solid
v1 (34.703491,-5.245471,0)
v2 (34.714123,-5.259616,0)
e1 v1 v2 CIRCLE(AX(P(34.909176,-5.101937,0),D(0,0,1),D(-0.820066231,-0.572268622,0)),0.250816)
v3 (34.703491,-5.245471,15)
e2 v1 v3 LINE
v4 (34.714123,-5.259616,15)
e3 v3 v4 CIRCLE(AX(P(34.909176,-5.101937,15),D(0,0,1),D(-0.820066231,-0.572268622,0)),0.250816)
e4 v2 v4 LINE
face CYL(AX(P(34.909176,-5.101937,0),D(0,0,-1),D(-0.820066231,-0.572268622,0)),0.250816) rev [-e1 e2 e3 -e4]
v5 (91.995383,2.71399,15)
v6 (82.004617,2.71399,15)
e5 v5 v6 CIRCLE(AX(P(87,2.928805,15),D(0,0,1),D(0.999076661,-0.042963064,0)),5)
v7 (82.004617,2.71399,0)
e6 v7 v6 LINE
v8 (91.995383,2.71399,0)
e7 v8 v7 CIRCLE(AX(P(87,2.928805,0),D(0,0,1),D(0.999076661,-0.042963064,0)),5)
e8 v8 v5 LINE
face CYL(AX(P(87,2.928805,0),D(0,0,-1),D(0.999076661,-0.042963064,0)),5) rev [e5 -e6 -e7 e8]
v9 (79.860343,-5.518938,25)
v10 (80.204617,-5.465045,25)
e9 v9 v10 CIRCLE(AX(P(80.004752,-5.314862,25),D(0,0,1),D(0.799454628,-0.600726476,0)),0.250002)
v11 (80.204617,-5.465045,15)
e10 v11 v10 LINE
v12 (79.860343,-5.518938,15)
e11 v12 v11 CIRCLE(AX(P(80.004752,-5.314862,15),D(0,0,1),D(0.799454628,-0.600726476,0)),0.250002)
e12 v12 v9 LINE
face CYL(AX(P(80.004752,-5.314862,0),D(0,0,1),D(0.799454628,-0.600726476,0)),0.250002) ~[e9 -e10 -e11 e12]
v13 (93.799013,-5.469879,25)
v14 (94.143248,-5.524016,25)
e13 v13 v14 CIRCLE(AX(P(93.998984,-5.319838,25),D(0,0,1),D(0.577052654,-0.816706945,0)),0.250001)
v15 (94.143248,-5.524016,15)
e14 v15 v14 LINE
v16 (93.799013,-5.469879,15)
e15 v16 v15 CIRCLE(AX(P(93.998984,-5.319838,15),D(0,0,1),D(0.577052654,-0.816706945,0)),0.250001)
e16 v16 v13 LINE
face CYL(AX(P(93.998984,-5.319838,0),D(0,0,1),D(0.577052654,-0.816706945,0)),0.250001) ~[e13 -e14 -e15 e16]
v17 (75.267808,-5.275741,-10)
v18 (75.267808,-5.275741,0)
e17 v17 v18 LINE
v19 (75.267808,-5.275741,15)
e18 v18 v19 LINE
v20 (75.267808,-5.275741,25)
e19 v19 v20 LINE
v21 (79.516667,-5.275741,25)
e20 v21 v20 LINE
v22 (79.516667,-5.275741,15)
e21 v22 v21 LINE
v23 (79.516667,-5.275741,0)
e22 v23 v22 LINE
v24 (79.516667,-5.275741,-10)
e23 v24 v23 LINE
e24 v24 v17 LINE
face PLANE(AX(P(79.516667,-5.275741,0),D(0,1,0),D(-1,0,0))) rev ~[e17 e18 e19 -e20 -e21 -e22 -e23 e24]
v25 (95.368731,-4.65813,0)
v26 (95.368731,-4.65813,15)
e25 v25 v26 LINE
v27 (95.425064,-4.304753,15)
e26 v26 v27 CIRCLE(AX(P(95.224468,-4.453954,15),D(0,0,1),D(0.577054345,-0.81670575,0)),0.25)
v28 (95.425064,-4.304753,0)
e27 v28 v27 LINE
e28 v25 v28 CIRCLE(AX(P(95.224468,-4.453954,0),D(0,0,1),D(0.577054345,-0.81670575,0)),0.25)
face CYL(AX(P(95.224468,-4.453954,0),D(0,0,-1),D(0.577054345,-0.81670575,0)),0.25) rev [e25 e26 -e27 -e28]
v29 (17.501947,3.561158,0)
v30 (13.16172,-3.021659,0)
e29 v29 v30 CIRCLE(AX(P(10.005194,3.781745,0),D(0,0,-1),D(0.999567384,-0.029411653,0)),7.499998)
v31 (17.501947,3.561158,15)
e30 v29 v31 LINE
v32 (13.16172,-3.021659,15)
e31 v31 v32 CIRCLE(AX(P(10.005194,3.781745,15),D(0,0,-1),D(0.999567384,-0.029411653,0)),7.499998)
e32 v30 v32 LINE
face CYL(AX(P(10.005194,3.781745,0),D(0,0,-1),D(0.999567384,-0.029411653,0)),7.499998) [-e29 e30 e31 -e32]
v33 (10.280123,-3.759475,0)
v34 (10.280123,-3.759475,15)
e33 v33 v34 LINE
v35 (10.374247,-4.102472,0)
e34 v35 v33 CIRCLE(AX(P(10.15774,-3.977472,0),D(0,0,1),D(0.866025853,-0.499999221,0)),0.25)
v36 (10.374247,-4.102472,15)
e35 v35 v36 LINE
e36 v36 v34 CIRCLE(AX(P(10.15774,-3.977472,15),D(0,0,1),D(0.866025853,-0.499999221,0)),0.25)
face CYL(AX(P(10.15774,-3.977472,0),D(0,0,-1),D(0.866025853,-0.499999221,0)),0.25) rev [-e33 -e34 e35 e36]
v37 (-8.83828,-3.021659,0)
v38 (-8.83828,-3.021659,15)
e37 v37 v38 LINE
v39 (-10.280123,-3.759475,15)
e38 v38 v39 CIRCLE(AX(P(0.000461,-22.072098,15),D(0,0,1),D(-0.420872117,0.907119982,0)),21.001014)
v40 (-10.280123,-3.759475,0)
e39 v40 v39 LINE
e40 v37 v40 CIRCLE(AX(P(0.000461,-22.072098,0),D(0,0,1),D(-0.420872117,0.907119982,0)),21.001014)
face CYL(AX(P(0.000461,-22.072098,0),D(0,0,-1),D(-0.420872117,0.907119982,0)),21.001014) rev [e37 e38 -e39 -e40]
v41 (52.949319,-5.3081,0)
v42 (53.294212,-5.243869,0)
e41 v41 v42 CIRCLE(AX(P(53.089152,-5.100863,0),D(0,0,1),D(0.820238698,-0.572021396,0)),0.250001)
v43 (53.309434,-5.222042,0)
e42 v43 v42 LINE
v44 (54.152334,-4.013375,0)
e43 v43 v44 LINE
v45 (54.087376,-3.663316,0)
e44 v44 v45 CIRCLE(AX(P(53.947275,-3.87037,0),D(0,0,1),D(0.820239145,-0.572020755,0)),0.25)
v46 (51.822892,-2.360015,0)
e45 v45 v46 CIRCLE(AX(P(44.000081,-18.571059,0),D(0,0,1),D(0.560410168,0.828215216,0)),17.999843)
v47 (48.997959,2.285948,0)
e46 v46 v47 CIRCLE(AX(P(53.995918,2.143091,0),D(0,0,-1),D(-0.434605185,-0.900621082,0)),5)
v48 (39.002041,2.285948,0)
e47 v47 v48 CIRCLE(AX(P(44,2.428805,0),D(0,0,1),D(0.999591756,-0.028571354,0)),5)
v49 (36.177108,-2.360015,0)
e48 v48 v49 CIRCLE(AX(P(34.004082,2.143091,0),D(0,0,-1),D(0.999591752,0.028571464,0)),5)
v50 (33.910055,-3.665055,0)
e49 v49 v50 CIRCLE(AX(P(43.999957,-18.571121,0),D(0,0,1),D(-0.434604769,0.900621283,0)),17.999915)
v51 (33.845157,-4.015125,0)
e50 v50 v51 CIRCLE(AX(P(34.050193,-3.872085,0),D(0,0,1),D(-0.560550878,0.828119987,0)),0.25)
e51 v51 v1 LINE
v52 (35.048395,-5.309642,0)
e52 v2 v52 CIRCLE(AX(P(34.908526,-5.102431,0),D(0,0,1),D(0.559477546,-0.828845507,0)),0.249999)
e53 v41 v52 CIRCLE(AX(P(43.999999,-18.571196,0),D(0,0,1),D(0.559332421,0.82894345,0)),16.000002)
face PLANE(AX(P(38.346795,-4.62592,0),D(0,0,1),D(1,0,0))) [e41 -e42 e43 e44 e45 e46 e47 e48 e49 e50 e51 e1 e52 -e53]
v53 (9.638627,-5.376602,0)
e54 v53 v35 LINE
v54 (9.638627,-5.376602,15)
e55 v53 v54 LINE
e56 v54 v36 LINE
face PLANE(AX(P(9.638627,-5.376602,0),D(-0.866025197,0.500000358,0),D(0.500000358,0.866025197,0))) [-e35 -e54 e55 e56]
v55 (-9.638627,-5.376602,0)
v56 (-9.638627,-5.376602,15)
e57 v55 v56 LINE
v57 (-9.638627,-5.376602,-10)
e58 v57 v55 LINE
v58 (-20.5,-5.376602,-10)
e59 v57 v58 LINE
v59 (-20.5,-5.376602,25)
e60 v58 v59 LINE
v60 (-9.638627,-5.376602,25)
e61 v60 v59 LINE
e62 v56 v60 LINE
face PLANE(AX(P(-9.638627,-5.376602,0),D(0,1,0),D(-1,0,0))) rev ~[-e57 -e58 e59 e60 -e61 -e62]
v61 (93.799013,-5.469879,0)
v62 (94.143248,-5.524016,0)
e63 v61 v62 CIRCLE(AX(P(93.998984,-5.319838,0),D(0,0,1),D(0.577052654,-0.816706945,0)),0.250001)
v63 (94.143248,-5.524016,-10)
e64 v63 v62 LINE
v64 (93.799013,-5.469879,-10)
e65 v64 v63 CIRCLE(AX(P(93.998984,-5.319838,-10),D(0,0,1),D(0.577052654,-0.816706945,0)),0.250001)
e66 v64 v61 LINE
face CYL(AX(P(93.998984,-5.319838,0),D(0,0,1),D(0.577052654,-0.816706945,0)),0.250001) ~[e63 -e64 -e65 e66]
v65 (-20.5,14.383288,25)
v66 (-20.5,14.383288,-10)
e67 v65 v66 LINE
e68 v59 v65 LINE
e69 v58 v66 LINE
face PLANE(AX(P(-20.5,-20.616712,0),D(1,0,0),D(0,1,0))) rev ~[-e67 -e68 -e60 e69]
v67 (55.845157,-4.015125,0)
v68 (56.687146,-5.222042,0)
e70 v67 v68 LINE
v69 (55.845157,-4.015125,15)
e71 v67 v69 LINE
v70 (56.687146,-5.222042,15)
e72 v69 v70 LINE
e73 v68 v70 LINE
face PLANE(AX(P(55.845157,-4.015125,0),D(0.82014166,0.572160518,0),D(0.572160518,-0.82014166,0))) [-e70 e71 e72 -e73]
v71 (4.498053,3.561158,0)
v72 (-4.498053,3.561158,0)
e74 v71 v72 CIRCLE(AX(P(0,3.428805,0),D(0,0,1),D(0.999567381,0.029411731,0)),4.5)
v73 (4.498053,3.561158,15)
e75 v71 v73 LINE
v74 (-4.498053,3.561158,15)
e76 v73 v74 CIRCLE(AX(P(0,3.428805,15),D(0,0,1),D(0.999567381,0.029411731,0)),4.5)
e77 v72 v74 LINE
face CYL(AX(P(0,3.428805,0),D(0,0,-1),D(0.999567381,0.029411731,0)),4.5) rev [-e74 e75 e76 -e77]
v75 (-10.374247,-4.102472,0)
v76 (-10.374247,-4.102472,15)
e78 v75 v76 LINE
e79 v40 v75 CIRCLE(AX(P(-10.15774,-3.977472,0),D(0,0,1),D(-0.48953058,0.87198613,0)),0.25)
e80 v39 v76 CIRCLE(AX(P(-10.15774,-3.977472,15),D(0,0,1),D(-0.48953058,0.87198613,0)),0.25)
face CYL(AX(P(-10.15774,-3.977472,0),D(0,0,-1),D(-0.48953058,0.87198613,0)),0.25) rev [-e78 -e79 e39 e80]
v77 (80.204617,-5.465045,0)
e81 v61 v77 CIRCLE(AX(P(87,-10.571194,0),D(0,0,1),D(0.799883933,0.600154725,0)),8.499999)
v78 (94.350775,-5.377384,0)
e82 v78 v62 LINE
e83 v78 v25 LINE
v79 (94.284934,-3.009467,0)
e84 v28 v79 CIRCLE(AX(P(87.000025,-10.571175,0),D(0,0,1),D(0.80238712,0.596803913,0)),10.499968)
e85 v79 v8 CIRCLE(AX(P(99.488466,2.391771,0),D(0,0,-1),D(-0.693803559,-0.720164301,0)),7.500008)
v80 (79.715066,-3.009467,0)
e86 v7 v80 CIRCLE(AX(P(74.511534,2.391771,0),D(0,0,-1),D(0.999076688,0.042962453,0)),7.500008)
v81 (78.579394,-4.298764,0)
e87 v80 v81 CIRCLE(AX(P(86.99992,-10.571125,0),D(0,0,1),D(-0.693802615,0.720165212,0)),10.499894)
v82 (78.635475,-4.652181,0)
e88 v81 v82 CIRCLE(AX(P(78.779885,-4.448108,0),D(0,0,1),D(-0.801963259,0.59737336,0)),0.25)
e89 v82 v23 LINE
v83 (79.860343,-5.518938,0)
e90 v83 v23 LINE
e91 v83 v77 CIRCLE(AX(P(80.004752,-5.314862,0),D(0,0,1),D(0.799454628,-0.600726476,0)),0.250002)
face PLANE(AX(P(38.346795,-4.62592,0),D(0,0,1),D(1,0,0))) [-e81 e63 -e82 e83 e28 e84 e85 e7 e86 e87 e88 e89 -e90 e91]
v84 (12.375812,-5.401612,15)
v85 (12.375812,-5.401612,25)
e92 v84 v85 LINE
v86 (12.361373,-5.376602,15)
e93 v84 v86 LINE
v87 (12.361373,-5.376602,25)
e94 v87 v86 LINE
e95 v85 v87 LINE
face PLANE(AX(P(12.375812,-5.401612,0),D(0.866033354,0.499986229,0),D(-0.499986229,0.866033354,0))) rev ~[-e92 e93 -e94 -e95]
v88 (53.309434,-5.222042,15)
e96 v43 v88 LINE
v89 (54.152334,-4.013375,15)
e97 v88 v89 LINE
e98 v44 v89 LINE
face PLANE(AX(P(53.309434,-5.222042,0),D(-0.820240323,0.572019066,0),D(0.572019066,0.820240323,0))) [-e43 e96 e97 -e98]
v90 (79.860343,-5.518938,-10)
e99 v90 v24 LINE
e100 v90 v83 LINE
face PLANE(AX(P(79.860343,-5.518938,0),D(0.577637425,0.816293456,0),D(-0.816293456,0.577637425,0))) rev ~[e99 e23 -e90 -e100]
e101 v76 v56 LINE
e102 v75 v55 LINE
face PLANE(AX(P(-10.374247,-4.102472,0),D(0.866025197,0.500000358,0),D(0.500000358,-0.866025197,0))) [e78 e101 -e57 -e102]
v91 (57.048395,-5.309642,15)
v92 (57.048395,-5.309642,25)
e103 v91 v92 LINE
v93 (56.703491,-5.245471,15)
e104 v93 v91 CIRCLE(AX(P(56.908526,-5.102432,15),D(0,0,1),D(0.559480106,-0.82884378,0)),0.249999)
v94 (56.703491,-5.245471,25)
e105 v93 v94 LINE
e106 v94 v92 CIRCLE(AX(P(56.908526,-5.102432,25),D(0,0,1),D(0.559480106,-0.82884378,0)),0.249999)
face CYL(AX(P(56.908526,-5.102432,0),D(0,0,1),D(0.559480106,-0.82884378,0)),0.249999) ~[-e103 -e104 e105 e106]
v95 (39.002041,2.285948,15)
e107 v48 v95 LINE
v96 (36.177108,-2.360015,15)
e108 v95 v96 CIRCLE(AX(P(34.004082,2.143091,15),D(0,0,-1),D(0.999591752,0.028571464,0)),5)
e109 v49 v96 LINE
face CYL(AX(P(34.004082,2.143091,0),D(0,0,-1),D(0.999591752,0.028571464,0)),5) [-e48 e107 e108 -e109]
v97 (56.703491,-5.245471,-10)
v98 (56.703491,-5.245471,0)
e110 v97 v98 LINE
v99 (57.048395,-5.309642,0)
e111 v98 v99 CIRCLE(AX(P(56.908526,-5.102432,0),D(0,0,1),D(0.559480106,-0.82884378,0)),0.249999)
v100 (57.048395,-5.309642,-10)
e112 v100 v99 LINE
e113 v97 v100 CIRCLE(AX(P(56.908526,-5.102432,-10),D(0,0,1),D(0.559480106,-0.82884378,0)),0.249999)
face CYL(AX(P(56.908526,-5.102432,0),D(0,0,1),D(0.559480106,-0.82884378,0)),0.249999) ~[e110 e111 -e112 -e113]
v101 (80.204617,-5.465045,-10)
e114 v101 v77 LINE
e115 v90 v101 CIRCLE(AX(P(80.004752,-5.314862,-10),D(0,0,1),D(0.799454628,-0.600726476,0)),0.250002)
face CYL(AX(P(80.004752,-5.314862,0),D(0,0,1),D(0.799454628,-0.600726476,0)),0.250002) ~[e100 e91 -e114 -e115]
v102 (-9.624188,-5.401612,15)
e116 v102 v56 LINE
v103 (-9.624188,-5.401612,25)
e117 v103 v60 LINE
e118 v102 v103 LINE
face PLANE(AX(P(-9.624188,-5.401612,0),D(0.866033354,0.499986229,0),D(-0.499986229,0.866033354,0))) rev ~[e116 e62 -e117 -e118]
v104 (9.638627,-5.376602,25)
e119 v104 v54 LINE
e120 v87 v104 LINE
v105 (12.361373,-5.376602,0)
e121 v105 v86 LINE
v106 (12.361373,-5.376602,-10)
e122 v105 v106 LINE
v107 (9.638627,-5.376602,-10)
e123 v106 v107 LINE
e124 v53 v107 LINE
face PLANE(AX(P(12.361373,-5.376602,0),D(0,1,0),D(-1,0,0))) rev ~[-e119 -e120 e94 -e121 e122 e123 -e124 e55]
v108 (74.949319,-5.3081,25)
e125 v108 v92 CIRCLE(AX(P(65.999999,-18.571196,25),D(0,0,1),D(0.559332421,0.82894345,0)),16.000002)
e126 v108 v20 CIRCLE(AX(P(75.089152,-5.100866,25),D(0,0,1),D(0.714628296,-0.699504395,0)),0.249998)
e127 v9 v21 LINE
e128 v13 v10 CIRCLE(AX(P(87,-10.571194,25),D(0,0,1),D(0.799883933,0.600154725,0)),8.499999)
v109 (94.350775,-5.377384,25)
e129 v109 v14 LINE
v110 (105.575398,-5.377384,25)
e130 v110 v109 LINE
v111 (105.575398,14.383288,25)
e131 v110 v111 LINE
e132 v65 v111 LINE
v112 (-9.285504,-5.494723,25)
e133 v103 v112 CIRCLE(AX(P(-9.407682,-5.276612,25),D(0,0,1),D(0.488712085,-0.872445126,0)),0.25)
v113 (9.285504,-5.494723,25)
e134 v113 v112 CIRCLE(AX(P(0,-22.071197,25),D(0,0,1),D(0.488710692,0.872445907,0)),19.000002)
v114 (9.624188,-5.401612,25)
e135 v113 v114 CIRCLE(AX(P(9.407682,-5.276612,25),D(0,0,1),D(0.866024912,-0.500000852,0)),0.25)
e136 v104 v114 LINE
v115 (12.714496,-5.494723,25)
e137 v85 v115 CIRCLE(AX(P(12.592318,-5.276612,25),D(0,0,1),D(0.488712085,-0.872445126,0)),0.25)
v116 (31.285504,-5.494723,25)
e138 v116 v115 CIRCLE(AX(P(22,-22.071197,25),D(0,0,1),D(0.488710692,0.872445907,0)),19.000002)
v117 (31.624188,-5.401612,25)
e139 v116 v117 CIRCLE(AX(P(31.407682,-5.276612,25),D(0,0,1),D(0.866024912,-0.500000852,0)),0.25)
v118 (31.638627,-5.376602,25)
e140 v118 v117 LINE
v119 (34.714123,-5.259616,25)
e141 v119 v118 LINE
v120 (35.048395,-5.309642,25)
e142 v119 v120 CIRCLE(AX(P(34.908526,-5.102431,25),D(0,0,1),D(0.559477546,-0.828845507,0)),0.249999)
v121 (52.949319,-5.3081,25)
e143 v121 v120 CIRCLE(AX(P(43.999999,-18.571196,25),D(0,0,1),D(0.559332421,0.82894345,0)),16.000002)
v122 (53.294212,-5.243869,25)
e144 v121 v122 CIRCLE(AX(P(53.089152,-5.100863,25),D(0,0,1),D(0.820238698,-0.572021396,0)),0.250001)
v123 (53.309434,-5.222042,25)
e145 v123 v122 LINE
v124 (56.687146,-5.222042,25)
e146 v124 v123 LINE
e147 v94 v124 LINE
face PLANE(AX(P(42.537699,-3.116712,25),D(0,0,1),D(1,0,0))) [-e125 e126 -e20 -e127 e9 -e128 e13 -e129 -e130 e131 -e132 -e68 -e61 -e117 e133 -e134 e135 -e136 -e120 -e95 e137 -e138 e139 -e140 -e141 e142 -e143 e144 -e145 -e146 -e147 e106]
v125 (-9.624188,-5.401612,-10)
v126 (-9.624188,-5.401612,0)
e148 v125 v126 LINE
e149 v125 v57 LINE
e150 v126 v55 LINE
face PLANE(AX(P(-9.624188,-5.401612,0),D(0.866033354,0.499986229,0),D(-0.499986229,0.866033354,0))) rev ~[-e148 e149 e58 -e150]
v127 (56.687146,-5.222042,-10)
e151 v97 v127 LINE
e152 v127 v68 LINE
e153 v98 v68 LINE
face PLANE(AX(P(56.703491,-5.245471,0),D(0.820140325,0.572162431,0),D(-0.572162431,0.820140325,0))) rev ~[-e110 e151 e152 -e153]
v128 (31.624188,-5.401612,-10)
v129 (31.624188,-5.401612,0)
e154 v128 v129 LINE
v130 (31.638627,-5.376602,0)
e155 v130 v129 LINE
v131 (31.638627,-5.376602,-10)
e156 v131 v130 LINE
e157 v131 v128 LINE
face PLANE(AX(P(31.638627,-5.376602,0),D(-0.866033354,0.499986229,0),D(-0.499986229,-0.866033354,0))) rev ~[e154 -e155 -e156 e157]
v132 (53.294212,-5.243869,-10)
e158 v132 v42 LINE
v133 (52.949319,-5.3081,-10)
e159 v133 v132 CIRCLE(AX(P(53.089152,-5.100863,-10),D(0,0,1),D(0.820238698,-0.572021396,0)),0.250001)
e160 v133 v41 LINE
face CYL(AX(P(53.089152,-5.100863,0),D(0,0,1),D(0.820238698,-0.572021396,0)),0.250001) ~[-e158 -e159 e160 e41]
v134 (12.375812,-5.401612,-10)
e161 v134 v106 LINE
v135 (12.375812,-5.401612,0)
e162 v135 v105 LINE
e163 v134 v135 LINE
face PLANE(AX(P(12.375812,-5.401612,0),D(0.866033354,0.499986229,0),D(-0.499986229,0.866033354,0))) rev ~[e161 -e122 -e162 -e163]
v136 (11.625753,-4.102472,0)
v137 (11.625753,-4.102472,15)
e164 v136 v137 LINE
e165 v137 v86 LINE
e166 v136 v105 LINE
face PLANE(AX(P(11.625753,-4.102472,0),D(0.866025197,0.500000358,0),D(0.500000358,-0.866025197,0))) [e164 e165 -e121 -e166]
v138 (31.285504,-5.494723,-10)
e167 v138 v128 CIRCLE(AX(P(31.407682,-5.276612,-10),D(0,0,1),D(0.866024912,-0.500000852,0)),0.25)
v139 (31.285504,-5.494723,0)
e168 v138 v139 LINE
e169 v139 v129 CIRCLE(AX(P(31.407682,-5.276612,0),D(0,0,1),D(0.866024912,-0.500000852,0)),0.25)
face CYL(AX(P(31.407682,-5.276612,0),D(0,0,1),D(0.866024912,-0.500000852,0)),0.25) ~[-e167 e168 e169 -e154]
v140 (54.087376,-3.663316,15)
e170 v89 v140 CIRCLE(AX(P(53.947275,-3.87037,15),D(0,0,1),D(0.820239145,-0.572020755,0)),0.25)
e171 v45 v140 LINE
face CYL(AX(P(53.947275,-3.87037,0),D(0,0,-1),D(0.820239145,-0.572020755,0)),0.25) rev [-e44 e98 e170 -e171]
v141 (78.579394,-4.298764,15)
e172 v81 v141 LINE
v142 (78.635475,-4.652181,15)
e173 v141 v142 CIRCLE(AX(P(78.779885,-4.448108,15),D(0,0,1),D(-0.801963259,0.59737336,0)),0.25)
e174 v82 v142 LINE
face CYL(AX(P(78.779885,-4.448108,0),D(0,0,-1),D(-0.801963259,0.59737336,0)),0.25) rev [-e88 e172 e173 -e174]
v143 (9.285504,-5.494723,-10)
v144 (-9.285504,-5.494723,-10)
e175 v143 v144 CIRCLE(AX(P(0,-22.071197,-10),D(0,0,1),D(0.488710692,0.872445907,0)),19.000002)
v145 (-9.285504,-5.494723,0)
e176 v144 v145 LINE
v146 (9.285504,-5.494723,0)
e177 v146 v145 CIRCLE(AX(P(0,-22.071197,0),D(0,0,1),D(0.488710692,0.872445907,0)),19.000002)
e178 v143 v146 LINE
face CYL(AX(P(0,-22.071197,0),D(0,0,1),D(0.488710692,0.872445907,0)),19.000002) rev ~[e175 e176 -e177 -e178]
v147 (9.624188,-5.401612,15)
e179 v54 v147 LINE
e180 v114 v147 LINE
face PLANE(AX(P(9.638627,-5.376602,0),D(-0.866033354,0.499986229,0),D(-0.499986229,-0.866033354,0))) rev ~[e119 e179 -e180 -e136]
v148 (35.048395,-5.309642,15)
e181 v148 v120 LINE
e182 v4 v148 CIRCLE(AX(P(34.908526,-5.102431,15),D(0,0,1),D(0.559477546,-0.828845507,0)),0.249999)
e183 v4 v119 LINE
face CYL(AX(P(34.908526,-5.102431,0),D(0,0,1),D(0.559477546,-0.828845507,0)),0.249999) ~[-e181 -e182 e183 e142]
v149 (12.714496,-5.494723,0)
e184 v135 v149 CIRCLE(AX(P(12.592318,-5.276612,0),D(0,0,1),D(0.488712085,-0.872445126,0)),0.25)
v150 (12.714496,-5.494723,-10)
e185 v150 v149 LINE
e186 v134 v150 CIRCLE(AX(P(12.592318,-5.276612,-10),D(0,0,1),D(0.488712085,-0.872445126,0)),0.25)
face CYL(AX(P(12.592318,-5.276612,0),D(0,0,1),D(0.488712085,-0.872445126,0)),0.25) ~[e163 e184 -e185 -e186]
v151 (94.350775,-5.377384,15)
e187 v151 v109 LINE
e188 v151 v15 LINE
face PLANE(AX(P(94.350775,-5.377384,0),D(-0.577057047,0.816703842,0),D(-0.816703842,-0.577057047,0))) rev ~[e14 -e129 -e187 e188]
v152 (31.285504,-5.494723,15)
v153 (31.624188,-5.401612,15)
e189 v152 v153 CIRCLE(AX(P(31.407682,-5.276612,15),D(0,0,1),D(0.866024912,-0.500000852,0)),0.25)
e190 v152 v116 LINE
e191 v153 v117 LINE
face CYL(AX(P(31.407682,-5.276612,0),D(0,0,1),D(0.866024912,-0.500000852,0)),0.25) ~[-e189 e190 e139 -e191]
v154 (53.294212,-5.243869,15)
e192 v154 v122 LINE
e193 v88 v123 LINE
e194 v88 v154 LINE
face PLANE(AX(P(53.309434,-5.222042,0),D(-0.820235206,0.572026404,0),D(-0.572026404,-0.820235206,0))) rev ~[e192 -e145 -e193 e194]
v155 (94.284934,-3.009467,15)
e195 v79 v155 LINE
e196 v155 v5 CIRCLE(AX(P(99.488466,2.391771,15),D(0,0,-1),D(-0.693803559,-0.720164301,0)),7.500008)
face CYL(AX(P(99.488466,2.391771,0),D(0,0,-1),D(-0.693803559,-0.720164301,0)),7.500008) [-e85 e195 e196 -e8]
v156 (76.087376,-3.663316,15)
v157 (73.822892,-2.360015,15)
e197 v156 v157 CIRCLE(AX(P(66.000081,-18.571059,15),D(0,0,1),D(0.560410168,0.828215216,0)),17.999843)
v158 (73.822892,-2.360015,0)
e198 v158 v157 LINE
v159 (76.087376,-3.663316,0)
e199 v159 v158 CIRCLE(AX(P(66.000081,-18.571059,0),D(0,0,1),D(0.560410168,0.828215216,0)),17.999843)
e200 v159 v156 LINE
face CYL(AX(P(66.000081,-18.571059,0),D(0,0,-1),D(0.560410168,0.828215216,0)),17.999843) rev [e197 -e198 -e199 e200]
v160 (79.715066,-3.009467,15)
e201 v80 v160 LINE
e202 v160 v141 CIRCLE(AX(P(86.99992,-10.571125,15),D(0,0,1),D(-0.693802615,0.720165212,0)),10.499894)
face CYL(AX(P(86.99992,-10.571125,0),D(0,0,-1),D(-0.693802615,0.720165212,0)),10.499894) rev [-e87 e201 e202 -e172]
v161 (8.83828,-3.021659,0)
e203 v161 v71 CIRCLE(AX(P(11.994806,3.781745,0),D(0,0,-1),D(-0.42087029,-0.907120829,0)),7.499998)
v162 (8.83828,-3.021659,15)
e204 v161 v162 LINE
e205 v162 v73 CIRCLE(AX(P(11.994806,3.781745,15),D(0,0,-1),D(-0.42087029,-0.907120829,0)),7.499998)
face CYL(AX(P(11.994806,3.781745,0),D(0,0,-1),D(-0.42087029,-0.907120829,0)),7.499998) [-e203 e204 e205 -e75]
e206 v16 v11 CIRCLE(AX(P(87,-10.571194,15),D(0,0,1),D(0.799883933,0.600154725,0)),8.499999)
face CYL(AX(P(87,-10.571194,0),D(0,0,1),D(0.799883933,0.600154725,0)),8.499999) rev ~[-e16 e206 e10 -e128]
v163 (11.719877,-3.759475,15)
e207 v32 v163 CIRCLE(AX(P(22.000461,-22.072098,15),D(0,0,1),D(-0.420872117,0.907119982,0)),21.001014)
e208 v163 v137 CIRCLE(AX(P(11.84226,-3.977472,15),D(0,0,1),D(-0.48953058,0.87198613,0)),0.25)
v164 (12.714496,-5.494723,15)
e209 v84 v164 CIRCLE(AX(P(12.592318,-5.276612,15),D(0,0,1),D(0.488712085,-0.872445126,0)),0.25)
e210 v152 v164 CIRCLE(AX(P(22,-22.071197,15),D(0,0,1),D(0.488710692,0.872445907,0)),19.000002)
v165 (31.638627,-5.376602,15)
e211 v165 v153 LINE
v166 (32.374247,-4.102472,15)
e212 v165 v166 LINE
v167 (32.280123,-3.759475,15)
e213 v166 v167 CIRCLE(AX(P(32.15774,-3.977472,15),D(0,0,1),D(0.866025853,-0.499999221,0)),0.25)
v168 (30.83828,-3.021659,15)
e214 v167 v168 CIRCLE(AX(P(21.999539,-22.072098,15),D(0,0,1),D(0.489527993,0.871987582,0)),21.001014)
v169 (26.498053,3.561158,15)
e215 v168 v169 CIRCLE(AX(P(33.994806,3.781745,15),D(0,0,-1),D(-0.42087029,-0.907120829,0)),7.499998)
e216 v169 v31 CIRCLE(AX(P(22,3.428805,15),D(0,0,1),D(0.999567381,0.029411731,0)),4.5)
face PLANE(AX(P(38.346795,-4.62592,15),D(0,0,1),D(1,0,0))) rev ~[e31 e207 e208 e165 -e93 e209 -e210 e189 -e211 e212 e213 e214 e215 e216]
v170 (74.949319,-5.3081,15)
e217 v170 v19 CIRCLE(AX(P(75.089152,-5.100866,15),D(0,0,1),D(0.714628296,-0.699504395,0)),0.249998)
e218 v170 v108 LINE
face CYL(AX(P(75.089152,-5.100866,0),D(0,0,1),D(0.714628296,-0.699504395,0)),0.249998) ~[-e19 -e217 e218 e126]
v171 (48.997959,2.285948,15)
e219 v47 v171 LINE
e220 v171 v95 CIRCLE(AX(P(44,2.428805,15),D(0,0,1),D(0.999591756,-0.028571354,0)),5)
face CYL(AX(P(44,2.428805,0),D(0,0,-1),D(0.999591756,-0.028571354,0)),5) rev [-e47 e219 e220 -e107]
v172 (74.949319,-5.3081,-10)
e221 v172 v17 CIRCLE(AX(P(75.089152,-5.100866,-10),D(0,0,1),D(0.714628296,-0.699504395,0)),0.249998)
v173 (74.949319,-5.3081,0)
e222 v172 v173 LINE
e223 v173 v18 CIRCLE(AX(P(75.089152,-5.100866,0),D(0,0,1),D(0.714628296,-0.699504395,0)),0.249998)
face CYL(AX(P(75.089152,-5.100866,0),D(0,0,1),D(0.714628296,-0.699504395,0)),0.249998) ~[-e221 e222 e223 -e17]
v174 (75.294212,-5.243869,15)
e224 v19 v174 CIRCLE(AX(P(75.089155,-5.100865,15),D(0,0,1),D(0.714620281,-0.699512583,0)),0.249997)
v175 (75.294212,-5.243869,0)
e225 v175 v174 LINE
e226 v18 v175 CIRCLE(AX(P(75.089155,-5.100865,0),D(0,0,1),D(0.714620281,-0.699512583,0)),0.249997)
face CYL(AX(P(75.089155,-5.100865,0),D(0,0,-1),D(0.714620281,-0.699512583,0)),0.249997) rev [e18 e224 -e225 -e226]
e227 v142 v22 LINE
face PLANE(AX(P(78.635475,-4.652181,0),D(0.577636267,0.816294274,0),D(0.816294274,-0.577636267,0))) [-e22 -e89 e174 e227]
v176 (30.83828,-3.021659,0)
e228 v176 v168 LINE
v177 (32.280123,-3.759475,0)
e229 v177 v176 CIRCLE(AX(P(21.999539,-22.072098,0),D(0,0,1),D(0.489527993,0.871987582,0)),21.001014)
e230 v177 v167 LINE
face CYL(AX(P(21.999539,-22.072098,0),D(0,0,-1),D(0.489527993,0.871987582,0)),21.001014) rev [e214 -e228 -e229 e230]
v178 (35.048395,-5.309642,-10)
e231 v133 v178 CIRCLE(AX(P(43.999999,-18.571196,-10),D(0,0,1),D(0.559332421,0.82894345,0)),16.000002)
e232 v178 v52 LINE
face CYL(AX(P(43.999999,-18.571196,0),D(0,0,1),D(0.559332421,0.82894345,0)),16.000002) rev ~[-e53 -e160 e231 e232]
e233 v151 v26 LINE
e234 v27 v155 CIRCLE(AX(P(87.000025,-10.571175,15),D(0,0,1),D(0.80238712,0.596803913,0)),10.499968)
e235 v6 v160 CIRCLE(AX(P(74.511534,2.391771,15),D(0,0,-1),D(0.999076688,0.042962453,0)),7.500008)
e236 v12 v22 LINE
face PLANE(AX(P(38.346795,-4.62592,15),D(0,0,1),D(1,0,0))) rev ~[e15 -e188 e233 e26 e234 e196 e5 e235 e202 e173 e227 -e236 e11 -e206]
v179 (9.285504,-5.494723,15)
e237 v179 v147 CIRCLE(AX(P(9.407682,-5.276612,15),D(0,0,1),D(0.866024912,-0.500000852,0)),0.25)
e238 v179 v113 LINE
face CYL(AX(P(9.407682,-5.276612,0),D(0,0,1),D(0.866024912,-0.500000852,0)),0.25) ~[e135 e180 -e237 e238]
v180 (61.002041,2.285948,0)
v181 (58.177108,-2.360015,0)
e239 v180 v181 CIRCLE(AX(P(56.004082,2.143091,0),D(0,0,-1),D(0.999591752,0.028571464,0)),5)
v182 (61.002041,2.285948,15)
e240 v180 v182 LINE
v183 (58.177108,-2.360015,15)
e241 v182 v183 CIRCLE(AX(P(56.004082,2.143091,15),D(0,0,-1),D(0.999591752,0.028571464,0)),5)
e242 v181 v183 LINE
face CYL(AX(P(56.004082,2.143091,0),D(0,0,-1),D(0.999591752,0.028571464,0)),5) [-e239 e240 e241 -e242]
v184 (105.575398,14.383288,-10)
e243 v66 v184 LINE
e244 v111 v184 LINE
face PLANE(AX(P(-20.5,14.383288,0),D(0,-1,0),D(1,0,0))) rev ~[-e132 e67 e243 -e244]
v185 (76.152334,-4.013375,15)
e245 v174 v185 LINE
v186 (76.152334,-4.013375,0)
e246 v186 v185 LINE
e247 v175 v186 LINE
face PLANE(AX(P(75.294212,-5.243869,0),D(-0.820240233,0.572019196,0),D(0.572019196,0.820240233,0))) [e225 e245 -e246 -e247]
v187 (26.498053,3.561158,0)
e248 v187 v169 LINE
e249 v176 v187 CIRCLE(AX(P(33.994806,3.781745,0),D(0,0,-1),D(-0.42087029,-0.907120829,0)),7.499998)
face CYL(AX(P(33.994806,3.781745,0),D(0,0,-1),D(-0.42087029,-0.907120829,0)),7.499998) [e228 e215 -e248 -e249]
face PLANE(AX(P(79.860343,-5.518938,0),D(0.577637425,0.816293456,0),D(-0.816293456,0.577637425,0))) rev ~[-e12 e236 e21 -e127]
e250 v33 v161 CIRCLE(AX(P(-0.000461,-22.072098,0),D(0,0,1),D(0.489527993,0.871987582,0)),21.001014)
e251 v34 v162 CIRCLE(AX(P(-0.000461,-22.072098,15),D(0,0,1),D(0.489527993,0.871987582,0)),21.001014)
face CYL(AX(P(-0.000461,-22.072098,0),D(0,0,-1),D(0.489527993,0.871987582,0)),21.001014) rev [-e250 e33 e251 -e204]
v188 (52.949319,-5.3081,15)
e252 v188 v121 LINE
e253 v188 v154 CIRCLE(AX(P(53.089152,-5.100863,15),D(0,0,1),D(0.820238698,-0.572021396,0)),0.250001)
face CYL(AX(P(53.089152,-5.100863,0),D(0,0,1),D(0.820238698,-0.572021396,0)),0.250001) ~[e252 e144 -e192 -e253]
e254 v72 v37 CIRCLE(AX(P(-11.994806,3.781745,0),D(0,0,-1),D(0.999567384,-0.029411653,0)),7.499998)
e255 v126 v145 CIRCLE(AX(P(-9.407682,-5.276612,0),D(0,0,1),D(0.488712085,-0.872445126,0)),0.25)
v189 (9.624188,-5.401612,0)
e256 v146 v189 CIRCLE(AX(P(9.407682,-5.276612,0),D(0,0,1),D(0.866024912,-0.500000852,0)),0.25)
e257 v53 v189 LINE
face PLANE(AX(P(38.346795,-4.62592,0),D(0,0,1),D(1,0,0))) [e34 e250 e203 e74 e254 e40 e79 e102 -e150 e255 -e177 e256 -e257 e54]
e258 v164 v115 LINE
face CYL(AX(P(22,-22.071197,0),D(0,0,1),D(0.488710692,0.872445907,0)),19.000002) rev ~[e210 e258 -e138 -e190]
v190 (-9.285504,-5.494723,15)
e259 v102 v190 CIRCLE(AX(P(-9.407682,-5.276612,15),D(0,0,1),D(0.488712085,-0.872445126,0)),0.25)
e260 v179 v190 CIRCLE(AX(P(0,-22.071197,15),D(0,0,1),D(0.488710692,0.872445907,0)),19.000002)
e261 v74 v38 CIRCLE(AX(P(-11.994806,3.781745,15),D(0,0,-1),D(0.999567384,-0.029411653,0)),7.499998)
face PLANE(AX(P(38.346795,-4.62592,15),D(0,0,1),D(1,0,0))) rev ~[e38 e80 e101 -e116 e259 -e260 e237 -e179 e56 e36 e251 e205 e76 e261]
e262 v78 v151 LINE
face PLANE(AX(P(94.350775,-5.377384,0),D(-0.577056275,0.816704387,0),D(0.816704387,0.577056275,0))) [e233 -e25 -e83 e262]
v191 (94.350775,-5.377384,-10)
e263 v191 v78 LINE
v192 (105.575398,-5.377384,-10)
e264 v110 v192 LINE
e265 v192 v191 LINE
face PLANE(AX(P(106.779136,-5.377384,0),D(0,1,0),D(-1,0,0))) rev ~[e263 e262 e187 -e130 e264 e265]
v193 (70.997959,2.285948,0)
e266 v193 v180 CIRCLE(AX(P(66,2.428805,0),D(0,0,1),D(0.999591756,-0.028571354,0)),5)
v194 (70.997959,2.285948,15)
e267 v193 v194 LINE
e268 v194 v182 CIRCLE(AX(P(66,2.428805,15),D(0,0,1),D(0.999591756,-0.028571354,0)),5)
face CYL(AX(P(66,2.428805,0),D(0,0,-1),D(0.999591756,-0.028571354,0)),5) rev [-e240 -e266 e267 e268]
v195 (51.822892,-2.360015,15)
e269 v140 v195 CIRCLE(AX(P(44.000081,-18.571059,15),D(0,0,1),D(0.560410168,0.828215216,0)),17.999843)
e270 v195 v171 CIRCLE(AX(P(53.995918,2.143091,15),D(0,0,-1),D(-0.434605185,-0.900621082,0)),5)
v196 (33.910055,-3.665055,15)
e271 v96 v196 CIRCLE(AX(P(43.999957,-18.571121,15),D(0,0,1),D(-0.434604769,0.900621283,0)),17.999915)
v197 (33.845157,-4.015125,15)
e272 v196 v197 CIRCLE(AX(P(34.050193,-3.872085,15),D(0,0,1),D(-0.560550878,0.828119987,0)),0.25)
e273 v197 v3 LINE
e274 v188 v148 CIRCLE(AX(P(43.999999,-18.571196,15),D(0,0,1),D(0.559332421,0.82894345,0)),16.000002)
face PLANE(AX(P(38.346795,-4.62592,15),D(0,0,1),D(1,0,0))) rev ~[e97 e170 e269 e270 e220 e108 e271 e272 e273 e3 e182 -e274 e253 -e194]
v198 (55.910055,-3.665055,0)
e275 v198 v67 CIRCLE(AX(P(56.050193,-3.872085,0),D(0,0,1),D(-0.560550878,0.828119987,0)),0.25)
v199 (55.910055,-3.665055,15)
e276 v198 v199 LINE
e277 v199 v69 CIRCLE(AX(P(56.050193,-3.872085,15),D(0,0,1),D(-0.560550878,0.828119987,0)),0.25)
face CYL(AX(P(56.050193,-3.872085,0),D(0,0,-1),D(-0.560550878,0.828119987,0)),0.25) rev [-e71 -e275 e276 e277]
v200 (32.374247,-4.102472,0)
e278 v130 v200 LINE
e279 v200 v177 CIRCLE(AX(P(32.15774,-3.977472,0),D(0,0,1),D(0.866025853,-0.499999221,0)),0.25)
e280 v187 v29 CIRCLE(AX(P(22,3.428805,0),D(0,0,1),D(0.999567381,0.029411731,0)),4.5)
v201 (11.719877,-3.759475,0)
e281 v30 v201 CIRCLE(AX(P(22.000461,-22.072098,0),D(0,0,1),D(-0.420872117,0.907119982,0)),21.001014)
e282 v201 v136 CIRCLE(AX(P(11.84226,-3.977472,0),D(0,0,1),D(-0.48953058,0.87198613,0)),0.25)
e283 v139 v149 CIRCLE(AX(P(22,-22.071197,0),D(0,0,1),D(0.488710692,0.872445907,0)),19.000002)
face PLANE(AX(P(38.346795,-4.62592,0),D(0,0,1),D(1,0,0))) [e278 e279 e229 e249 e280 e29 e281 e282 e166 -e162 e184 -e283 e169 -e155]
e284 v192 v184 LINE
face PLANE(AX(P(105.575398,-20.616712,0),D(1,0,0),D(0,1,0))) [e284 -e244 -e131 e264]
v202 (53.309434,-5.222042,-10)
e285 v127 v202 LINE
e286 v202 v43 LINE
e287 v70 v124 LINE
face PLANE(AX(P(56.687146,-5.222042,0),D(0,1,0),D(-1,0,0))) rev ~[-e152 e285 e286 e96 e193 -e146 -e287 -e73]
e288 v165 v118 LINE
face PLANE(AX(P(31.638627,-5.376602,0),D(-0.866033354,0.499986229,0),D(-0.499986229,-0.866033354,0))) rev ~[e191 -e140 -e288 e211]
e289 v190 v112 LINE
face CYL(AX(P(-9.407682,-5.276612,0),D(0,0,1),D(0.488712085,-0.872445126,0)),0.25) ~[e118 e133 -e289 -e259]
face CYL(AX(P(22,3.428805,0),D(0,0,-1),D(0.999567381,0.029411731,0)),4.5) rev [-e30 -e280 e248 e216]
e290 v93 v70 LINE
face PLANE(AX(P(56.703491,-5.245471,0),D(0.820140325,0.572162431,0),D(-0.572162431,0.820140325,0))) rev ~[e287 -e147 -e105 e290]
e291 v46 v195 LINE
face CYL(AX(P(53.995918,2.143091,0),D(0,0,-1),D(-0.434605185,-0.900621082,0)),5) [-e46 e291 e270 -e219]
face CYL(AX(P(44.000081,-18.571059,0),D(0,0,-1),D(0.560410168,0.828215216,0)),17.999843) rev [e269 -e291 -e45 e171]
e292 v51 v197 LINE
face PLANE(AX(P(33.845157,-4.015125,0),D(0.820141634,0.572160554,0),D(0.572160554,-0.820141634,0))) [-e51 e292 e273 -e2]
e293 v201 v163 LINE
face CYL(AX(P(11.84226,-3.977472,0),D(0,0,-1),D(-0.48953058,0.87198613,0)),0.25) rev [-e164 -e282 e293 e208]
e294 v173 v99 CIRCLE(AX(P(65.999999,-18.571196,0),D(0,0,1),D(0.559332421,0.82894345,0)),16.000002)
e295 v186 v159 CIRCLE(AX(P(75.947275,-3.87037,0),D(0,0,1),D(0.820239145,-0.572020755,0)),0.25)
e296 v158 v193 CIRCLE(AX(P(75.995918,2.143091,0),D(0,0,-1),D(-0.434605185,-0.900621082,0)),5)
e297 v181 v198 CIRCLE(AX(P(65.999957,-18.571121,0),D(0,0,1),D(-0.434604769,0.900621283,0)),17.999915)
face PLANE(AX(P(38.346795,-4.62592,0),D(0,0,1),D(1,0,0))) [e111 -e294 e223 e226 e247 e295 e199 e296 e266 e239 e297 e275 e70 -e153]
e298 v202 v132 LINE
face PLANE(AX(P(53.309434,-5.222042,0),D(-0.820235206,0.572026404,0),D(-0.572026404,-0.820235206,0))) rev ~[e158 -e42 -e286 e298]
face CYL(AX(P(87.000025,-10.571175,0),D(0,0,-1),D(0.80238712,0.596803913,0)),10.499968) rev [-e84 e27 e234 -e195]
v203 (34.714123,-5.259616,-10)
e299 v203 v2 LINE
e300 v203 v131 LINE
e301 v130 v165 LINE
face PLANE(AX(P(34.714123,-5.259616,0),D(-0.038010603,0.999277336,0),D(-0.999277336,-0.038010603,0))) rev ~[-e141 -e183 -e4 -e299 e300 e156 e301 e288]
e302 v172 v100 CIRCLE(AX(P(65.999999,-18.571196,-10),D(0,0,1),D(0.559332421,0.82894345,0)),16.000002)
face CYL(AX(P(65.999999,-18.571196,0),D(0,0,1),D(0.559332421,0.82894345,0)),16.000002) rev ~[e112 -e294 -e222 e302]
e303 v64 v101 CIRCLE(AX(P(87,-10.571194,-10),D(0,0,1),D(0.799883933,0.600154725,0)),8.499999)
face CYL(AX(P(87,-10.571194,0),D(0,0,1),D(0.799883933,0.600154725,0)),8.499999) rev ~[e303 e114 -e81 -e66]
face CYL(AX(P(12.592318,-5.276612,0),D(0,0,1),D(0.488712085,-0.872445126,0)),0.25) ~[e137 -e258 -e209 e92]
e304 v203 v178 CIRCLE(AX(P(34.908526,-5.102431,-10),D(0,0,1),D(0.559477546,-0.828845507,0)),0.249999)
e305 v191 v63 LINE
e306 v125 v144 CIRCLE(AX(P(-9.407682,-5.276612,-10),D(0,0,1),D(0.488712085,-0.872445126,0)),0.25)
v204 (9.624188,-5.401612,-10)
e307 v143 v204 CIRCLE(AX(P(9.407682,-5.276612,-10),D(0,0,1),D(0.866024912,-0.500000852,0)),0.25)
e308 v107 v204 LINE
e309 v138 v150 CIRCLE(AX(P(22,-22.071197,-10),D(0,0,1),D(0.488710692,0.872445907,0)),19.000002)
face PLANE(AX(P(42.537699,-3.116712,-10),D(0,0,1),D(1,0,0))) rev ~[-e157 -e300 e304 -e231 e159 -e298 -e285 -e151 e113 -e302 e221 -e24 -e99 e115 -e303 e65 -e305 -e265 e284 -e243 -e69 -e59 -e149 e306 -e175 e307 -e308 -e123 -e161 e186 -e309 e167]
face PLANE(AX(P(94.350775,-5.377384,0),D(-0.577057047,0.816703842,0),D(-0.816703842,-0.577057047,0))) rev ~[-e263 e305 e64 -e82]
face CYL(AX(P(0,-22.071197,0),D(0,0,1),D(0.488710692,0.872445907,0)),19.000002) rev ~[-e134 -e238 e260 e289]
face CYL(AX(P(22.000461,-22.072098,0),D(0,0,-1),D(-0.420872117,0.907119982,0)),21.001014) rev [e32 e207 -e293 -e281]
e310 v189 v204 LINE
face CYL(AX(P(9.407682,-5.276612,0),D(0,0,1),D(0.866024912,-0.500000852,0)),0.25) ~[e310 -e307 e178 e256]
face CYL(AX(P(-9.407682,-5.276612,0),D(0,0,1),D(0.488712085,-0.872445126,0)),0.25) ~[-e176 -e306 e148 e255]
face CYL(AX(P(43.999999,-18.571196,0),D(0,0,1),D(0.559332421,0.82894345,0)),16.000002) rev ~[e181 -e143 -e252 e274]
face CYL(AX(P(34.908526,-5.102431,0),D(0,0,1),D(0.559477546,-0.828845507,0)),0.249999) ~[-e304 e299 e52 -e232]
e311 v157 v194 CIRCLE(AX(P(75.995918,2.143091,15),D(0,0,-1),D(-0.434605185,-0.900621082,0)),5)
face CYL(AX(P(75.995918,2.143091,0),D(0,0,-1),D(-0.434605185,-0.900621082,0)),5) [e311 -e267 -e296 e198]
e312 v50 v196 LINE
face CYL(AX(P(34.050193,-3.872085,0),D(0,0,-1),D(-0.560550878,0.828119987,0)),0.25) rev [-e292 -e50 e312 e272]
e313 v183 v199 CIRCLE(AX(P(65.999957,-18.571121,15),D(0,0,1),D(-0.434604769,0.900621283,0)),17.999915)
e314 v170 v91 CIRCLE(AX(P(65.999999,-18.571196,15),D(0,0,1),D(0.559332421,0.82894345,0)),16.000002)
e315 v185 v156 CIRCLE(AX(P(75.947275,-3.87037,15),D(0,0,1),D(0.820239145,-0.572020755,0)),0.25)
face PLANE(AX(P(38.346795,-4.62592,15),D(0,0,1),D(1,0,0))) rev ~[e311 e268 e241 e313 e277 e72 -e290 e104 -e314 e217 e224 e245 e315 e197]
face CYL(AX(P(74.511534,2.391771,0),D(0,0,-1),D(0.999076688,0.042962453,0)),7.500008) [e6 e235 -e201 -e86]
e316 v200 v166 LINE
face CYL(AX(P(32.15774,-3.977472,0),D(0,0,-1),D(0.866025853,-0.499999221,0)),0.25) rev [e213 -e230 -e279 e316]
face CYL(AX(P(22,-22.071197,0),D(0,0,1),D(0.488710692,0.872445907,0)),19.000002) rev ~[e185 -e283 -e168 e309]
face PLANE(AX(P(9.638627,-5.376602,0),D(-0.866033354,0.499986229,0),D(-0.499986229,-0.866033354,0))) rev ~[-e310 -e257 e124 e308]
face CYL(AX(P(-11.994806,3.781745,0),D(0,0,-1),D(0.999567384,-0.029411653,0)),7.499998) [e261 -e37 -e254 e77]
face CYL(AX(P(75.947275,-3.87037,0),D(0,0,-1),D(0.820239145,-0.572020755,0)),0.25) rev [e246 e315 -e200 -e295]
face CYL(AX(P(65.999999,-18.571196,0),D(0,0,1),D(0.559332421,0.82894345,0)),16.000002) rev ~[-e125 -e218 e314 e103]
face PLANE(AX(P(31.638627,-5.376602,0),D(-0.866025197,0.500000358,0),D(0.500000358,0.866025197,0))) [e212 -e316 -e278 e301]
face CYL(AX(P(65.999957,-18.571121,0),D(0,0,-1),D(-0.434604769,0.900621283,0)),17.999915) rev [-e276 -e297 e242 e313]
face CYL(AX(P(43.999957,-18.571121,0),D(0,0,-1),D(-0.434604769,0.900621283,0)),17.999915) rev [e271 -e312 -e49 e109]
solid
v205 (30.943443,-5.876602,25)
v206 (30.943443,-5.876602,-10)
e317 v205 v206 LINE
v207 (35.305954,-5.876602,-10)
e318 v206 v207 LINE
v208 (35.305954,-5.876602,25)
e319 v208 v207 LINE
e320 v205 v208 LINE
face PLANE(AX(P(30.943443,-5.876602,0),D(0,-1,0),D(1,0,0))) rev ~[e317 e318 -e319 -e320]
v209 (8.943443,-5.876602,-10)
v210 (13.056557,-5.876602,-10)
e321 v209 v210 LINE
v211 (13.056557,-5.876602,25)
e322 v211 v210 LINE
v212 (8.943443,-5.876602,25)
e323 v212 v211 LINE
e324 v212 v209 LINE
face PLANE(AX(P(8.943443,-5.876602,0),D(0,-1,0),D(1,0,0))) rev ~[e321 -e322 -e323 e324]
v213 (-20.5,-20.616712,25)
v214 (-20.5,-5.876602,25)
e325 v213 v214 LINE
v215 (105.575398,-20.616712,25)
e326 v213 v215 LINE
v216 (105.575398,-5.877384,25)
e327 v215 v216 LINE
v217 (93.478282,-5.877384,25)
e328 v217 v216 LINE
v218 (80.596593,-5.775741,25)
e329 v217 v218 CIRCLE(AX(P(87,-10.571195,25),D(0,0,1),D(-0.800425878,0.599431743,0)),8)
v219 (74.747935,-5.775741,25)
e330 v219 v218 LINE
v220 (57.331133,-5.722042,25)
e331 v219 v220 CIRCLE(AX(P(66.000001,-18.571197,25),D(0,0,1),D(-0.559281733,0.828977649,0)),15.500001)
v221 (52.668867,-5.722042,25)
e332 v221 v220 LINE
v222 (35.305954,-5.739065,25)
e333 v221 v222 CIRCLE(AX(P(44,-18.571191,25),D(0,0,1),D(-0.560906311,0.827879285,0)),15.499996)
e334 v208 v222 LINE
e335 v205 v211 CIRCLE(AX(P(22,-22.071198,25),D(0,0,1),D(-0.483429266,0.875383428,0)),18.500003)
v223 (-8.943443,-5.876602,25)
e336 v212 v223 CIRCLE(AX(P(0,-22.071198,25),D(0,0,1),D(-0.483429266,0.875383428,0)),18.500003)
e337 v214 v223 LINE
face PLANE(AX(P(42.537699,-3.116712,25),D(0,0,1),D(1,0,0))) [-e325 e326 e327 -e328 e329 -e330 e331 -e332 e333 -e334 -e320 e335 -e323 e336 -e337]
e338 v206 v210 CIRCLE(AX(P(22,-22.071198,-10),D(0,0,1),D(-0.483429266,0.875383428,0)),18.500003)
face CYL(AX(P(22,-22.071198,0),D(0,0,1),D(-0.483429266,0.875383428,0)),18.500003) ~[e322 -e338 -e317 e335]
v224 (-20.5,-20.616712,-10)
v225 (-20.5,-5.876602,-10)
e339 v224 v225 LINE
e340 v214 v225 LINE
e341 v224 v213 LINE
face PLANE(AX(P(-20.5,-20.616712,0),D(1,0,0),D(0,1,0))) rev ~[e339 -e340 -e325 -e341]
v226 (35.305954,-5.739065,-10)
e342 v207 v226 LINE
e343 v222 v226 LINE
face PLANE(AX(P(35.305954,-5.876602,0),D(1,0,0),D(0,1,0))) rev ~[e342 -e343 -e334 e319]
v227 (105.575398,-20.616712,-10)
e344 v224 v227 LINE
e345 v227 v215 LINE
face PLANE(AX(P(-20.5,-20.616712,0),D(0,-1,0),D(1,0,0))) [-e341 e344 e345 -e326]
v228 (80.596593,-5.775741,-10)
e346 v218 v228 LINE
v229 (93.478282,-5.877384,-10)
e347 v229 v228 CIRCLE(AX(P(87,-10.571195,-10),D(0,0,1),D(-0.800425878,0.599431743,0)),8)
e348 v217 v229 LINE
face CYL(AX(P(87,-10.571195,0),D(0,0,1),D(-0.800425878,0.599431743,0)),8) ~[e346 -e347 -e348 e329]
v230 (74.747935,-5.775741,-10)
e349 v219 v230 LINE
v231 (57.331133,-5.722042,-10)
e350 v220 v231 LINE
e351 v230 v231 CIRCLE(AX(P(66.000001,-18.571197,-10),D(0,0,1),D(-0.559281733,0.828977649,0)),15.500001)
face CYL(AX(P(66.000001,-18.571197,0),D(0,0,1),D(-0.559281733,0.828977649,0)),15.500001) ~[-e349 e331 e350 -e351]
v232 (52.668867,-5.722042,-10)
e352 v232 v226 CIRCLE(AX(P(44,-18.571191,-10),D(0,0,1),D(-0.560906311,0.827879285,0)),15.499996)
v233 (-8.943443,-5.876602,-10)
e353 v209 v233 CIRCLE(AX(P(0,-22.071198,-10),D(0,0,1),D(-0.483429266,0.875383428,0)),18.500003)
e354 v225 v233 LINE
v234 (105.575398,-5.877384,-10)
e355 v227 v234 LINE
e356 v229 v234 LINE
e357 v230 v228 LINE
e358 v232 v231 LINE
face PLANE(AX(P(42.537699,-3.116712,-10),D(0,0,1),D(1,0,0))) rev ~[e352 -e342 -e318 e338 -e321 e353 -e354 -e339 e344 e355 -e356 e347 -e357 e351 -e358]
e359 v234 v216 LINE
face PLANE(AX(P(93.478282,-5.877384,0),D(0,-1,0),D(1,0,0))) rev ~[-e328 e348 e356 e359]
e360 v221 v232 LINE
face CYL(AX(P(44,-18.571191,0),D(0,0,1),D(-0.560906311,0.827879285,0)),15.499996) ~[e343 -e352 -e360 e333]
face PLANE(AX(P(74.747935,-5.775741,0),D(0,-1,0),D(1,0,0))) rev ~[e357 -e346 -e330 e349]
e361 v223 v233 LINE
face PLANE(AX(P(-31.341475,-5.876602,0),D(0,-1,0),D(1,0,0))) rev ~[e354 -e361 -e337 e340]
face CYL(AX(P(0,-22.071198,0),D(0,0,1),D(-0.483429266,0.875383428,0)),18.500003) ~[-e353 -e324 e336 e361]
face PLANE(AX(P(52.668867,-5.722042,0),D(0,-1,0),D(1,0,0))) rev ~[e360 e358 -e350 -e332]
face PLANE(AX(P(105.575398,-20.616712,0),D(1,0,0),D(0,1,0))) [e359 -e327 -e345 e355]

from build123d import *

# Parameters (mm, degrees)
F1_W     = 126.075398
F1_H     = 35
F2_DEPTH = 25
F3_DEPTH = 10
F4_DEPTH = 15
F5_DEPTH = 30


with BuildPart() as f2:
    # F1 (on Top) → F2 (new body)
    with BuildSketch(Plane.XY):
        with Locations((42.537699, -3.116712)):
            Rectangle(F1_W, F1_H)
    extrude(amount=F2_DEPTH)

    # F1 (on Top) → F3 (join)
    with BuildSketch(Plane.XY):
        with Locations((42.537699, -3.116712)):
            Rectangle(F1_W, F1_H)
    extrude(amount=-F3_DEPTH)

    # F0 (on Top) → F4 (cut)
    with BuildSketch(Plane.XY):
        with BuildLine():
            ThreePointArc((9.624188, -5.401612), (9.473953, -5.517668), (9.285504, -5.494723))
            ThreePointArc((9.285504, -5.494723), (0, -3.071195), (-9.285504, -5.494723))
            ThreePointArc((-9.285504, -5.494723), (-9.473953, -5.517668), (-9.624188, -5.401612))
            Line((-9.624188, -5.401612), (-9.638627, -5.376602))
            Line((-9.638627, -5.376602), (-31.341475, -5.376602))
            Line((-31.341475, -5.376602), (-31.341475, -5.876602))
            Line((-31.341475, -5.876602), (-8.943443, -5.876602))
            ThreePointArc((-8.943443, -5.876602), (0, -3.571195), (8.943443, -5.876602))
            Line((8.943443, -5.876602), (13.056557, -5.876602))
            ThreePointArc((13.056557, -5.876602), (22, -3.571195), (30.943443, -5.876602))
            Line((30.943443, -5.876602), (35.305954, -5.876602))
            Line((35.305954, -5.876602), (35.305954, -5.739065))
            ThreePointArc((35.305954, -5.739065), (43.984803, -3.071202), (52.668867, -5.722042))
            Line((52.668867, -5.722042), (57.331133, -5.722042))
            ThreePointArc((57.331133, -5.722042), (66.047789, -3.071269), (74.747935, -5.775741))
            Line((74.747935, -5.775741), (80.596593, -5.775741))
            ThreePointArc((80.596593, -5.775741), (87.063122, -2.571444), (93.478282, -5.877384))
            Line((93.478282, -5.877384), (106.779136, -5.877384))
            Line((106.779136, -5.877384), (106.779136, -5.377384))
            Line((106.779136, -5.377384), (94.350775, -5.377384))
            Line((94.350775, -5.377384), (94.143248, -5.524016))
            ThreePointArc((94.143248, -5.524016), (93.960144, -5.566804), (93.799013, -5.469879))
            ThreePointArc((93.799013, -5.469879), (87.003022, -2.071195), (80.204617, -5.465045))
            ThreePointArc((80.204617, -5.465045), (80.043417, -5.561856), (79.860343, -5.518938))
            Line((79.860343, -5.518938), (79.516667, -5.275741))
            Line((79.516667, -5.275741), (75.267808, -5.275741))
            ThreePointArc((75.267808, -5.275741), (75.114422, -5.349584), (74.949319, -5.3081))
            ThreePointArc((74.949319, -5.3081), (65.998621, -2.571195), (57.048395, -5.309642))
            ThreePointArc((57.048395, -5.309642), (56.862797, -5.348213), (56.703491, -5.245471))
            Line((56.703491, -5.245471), (56.687146, -5.222042))
            Line((56.687146, -5.222042), (53.309434, -5.222042))
            Line((53.309434, -5.222042), (53.294212, -5.243869))
            ThreePointArc((53.294212, -5.243869), (53.134924, -5.346638), (52.949319, -5.3081))
            ThreePointArc((52.949319, -5.3081), (43.998621, -2.571195), (35.048395, -5.309642))
            ThreePointArc((35.048395, -5.309642), (34.871524, -5.349677), (34.714123, -5.259616))
            Line((34.714123, -5.259616), (31.638627, -5.376602))
            Line((31.638627, -5.376602), (31.624188, -5.401612))
            ThreePointArc((31.624188, -5.401612), (31.473953, -5.517668), (31.285504, -5.494723))
            ThreePointArc((31.285504, -5.494723), (22, -3.071195), (12.714496, -5.494723))
            ThreePointArc((12.714496, -5.494723), (12.526047, -5.517668), (12.375812, -5.401612))
            Line((12.375812, -5.401612), (12.361373, -5.376602))
            Line((12.361373, -5.376602), (9.638627, -5.376602))
            Line((9.638627, -5.376602), (9.624188, -5.401612))
        make_face()
        with BuildLine():
            ThreePointArc((-9.285504, -5.494723), (0, -3.071195), (9.285504, -5.494723))
            ThreePointArc((9.285504, -5.494723), (9.473953, -5.517668), (9.624188, -5.401612))
            Line((9.624188, -5.401612), (9.638627, -5.376602))
            Line((9.638627, -5.376602), (10.374247, -4.102472))
            ThreePointArc((10.374247, -4.102472), (10.398828, -3.911314), (10.280123, -3.759475))
            ThreePointArc((10.280123, -3.759475), (9.566317, -3.376662), (8.83828, -3.021659))
            ThreePointArc((8.83828, -3.021659), (5.7333, -0.346633), (4.498053, 3.561158))
            ThreePointArc((4.498053, 3.561158), (0, 7.928805), (-4.498053, 3.561158))
            ThreePointArc((-4.498053, 3.561158), (-5.7333, -0.346633), (-8.83828, -3.021659))
            ThreePointArc((-8.83828, -3.021659), (-9.566317, -3.376662), (-10.280123, -3.759475))
            ThreePointArc((-10.280123, -3.759475), (-10.398828, -3.911314), (-10.374247, -4.102472))
            Line((-10.374247, -4.102472), (-9.638627, -5.376602))
            Line((-9.638627, -5.376602), (-9.624188, -5.401612))
            ThreePointArc((-9.624188, -5.401612), (-9.473953, -5.517668), (-9.285504, -5.494723))
        make_face()
        with BuildLine():
            Line((11.625753, -4.102472), (12.361373, -5.376602))
            Line((12.361373, -5.376602), (12.375812, -5.401612))
            ThreePointArc((12.375812, -5.401612), (12.526047, -5.517668), (12.714496, -5.494723))
            ThreePointArc((12.714496, -5.494723), (22, -3.071195), (31.285504, -5.494723))
            ThreePointArc((31.285504, -5.494723), (31.473953, -5.517668), (31.624188, -5.401612))
            Line((31.624188, -5.401612), (31.638627, -5.376602))
            Line((31.638627, -5.376602), (32.374247, -4.102472))
            ThreePointArc((32.374247, -4.102472), (32.398828, -3.911314), (32.280123, -3.759475))
            ThreePointArc((32.280123, -3.759475), (31.566317, -3.376662), (30.83828, -3.021659))
            ThreePointArc((30.83828, -3.021659), (27.7333, -0.346633), (26.498053, 3.561158))
            ThreePointArc((26.498053, 3.561158), (22, 7.928805), (17.501947, 3.561158))
            ThreePointArc((17.501947, 3.561158), (16.2667, -0.346633), (13.16172, -3.021659))
            ThreePointArc((13.16172, -3.021659), (12.433683, -3.376662), (11.719877, -3.759475))
            ThreePointArc((11.719877, -3.759475), (11.601172, -3.911314), (11.625753, -4.102472))
        make_face()
        with BuildLine():
            ThreePointArc((34.703491, -5.245471), (34.708682, -5.252637), (34.714123, -5.259616))
            ThreePointArc((34.714123, -5.259616), (34.871524, -5.349677), (35.048395, -5.309642))
            ThreePointArc((35.048395, -5.309642), (43.998621, -2.571195), (52.949319, -5.3081))
            ThreePointArc((52.949319, -5.3081), (53.134924, -5.346638), (53.294212, -5.243869))
            Line((53.294212, -5.243869), (53.309434, -5.222042))
            Line((53.309434, -5.222042), (54.152334, -4.013375))
            ThreePointArc((54.152334, -4.013375), (54.193078, -3.824758), (54.087376, -3.663316))
            ThreePointArc((54.087376, -3.663316), (52.978813, -2.970524), (51.822892, -2.360015))
            ThreePointArc((51.822892, -2.360015), (49.723682, -0.454601), (48.997959, 2.285948))
            ThreePointArc((48.997959, 2.285948), (44, 7.428805), (39.002041, 2.285948))
            ThreePointArc((39.002041, 2.285948), (38.276318, -0.454601), (36.177108, -2.360015))
            ThreePointArc((36.177108, -2.360015), (35.019843, -2.971298), (33.910055, -3.665055))
            ThreePointArc((33.910055, -3.665055), (33.804381, -3.826515), (33.845157, -4.015125))
            Line((33.845157, -4.015125), (34.703491, -5.245471))
        make_face()
        with BuildLine():
            Line((55.845157, -4.015125), (56.687146, -5.222042))
            Line((56.687146, -5.222042), (56.703491, -5.245471))
            ThreePointArc((56.703491, -5.245471), (56.862797, -5.348213), (57.048395, -5.309642))
            ThreePointArc((57.048395, -5.309642), (65.998621, -2.571195), (74.949319, -5.3081))
            ThreePointArc((74.949319, -5.3081), (75.114422, -5.349584), (75.267808, -5.275741))
            ThreePointArc((75.267808, -5.275741), (75.281671, -5.260352), (75.294212, -5.243869))
            Line((75.294212, -5.243869), (76.152334, -4.013375))
            ThreePointArc((76.152334, -4.013375), (76.193078, -3.824758), (76.087376, -3.663316))
            ThreePointArc((76.087376, -3.663316), (74.978813, -2.970524), (73.822892, -2.360015))
            ThreePointArc((73.822892, -2.360015), (71.723682, -0.454601), (70.997959, 2.285948))
            ThreePointArc((70.997959, 2.285948), (66, 7.428805), (61.002041, 2.285948))
            ThreePointArc((61.002041, 2.285948), (60.276318, -0.454601), (58.177108, -2.360015))
            ThreePointArc((58.177108, -2.360015), (57.019843, -2.971298), (55.910055, -3.665055))
            ThreePointArc((55.910055, -3.665055), (55.804381, -3.826515), (55.845157, -4.015125))
        make_face()
        with BuildLine():
            Line((94.143248, -5.524016), (94.350775, -5.377384))
            Line((94.350775, -5.377384), (95.368731, -4.65813))
            ThreePointArc((95.368731, -4.65813), (95.47135, -4.49331), (95.425064, -4.304753))
            ThreePointArc((95.425064, -4.304753), (94.881653, -3.633649), (94.284934, -3.009467))
            ThreePointArc((94.284934, -3.009467), (92.524954, -0.393838), (91.995383, 2.71399))
            ThreePointArc((91.995383, 2.71399), (87, 7.928805), (82.004617, 2.71399))
            ThreePointArc((82.004617, 2.71399), (81.475046, -0.393838), (79.715066, -3.009467))
            ThreePointArc((79.715066, -3.009467), (79.120814, -3.630847), (78.579394, -4.298764))
            ThreePointArc((78.579394, -4.298764), (78.532974, -4.487288), (78.635475, -4.652181))
            Line((78.635475, -4.652181), (79.516667, -5.275741))
            Line((79.516667, -5.275741), (79.860343, -5.518938))
            ThreePointArc((79.860343, -5.518938), (80.043417, -5.561856), (80.204617, -5.465045))
            ThreePointArc((80.204617, -5.465045), (87.003022, -2.071195), (93.799013, -5.469879))
            ThreePointArc((93.799013, -5.469879), (93.960144, -5.566804), (94.143248, -5.524016))
        make_face()
    extrude(amount=F4_DEPTH, mode=Mode.SUBTRACT)

    # F0 (on Top) → F5 (cut, symmetric)
    with BuildSketch(Plane.XY):
        with BuildLine():
            ThreePointArc((9.624188, -5.401612), (9.473953, -5.517668), (9.285504, -5.494723))
            ThreePointArc((9.285504, -5.494723), (0, -3.071195), (-9.285504, -5.494723))
            ThreePointArc((-9.285504, -5.494723), (-9.473953, -5.517668), (-9.624188, -5.401612))
            Line((-9.624188, -5.401612), (-9.638627, -5.376602))
            Line((-9.638627, -5.376602), (-31.341475, -5.376602))
            Line((-31.341475, -5.376602), (-31.341475, -5.876602))
            Line((-31.341475, -5.876602), (-8.943443, -5.876602))
            ThreePointArc((-8.943443, -5.876602), (0, -3.571195), (8.943443, -5.876602))
            Line((8.943443, -5.876602), (13.056557, -5.876602))
            ThreePointArc((13.056557, -5.876602), (22, -3.571195), (30.943443, -5.876602))
            Line((30.943443, -5.876602), (35.305954, -5.876602))
            Line((35.305954, -5.876602), (35.305954, -5.739065))
            ThreePointArc((35.305954, -5.739065), (43.984803, -3.071202), (52.668867, -5.722042))
            Line((52.668867, -5.722042), (57.331133, -5.722042))
            ThreePointArc((57.331133, -5.722042), (66.047789, -3.071269), (74.747935, -5.775741))
            Line((74.747935, -5.775741), (80.596593, -5.775741))
            ThreePointArc((80.596593, -5.775741), (87.063122, -2.571444), (93.478282, -5.877384))
            Line((93.478282, -5.877384), (106.779136, -5.877384))
            Line((106.779136, -5.877384), (106.779136, -5.377384))
            Line((106.779136, -5.377384), (94.350775, -5.377384))
            Line((94.350775, -5.377384), (94.143248, -5.524016))
            ThreePointArc((94.143248, -5.524016), (93.960144, -5.566804), (93.799013, -5.469879))
            ThreePointArc((93.799013, -5.469879), (87.003022, -2.071195), (80.204617, -5.465045))
            ThreePointArc((80.204617, -5.465045), (80.043417, -5.561856), (79.860343, -5.518938))
            Line((79.860343, -5.518938), (79.516667, -5.275741))
            Line((79.516667, -5.275741), (75.267808, -5.275741))
            ThreePointArc((75.267808, -5.275741), (75.114422, -5.349584), (74.949319, -5.3081))
            ThreePointArc((74.949319, -5.3081), (65.998621, -2.571195), (57.048395, -5.309642))
            ThreePointArc((57.048395, -5.309642), (56.862797, -5.348213), (56.703491, -5.245471))
            Line((56.703491, -5.245471), (56.687146, -5.222042))
            Line((56.687146, -5.222042), (53.309434, -5.222042))
            Line((53.309434, -5.222042), (53.294212, -5.243869))
            ThreePointArc((53.294212, -5.243869), (53.134924, -5.346638), (52.949319, -5.3081))
            ThreePointArc((52.949319, -5.3081), (43.998621, -2.571195), (35.048395, -5.309642))
            ThreePointArc((35.048395, -5.309642), (34.871524, -5.349677), (34.714123, -5.259616))
            Line((34.714123, -5.259616), (31.638627, -5.376602))
            Line((31.638627, -5.376602), (31.624188, -5.401612))
            ThreePointArc((31.624188, -5.401612), (31.473953, -5.517668), (31.285504, -5.494723))
            ThreePointArc((31.285504, -5.494723), (22, -3.071195), (12.714496, -5.494723))
            ThreePointArc((12.714496, -5.494723), (12.526047, -5.517668), (12.375812, -5.401612))
            Line((12.375812, -5.401612), (12.361373, -5.376602))
            Line((12.361373, -5.376602), (9.638627, -5.376602))
            Line((9.638627, -5.376602), (9.624188, -5.401612))
        make_face()
    extrude(amount=F5_DEPTH, both=True, mode=Mode.SUBTRACT)


solid = f2.part
